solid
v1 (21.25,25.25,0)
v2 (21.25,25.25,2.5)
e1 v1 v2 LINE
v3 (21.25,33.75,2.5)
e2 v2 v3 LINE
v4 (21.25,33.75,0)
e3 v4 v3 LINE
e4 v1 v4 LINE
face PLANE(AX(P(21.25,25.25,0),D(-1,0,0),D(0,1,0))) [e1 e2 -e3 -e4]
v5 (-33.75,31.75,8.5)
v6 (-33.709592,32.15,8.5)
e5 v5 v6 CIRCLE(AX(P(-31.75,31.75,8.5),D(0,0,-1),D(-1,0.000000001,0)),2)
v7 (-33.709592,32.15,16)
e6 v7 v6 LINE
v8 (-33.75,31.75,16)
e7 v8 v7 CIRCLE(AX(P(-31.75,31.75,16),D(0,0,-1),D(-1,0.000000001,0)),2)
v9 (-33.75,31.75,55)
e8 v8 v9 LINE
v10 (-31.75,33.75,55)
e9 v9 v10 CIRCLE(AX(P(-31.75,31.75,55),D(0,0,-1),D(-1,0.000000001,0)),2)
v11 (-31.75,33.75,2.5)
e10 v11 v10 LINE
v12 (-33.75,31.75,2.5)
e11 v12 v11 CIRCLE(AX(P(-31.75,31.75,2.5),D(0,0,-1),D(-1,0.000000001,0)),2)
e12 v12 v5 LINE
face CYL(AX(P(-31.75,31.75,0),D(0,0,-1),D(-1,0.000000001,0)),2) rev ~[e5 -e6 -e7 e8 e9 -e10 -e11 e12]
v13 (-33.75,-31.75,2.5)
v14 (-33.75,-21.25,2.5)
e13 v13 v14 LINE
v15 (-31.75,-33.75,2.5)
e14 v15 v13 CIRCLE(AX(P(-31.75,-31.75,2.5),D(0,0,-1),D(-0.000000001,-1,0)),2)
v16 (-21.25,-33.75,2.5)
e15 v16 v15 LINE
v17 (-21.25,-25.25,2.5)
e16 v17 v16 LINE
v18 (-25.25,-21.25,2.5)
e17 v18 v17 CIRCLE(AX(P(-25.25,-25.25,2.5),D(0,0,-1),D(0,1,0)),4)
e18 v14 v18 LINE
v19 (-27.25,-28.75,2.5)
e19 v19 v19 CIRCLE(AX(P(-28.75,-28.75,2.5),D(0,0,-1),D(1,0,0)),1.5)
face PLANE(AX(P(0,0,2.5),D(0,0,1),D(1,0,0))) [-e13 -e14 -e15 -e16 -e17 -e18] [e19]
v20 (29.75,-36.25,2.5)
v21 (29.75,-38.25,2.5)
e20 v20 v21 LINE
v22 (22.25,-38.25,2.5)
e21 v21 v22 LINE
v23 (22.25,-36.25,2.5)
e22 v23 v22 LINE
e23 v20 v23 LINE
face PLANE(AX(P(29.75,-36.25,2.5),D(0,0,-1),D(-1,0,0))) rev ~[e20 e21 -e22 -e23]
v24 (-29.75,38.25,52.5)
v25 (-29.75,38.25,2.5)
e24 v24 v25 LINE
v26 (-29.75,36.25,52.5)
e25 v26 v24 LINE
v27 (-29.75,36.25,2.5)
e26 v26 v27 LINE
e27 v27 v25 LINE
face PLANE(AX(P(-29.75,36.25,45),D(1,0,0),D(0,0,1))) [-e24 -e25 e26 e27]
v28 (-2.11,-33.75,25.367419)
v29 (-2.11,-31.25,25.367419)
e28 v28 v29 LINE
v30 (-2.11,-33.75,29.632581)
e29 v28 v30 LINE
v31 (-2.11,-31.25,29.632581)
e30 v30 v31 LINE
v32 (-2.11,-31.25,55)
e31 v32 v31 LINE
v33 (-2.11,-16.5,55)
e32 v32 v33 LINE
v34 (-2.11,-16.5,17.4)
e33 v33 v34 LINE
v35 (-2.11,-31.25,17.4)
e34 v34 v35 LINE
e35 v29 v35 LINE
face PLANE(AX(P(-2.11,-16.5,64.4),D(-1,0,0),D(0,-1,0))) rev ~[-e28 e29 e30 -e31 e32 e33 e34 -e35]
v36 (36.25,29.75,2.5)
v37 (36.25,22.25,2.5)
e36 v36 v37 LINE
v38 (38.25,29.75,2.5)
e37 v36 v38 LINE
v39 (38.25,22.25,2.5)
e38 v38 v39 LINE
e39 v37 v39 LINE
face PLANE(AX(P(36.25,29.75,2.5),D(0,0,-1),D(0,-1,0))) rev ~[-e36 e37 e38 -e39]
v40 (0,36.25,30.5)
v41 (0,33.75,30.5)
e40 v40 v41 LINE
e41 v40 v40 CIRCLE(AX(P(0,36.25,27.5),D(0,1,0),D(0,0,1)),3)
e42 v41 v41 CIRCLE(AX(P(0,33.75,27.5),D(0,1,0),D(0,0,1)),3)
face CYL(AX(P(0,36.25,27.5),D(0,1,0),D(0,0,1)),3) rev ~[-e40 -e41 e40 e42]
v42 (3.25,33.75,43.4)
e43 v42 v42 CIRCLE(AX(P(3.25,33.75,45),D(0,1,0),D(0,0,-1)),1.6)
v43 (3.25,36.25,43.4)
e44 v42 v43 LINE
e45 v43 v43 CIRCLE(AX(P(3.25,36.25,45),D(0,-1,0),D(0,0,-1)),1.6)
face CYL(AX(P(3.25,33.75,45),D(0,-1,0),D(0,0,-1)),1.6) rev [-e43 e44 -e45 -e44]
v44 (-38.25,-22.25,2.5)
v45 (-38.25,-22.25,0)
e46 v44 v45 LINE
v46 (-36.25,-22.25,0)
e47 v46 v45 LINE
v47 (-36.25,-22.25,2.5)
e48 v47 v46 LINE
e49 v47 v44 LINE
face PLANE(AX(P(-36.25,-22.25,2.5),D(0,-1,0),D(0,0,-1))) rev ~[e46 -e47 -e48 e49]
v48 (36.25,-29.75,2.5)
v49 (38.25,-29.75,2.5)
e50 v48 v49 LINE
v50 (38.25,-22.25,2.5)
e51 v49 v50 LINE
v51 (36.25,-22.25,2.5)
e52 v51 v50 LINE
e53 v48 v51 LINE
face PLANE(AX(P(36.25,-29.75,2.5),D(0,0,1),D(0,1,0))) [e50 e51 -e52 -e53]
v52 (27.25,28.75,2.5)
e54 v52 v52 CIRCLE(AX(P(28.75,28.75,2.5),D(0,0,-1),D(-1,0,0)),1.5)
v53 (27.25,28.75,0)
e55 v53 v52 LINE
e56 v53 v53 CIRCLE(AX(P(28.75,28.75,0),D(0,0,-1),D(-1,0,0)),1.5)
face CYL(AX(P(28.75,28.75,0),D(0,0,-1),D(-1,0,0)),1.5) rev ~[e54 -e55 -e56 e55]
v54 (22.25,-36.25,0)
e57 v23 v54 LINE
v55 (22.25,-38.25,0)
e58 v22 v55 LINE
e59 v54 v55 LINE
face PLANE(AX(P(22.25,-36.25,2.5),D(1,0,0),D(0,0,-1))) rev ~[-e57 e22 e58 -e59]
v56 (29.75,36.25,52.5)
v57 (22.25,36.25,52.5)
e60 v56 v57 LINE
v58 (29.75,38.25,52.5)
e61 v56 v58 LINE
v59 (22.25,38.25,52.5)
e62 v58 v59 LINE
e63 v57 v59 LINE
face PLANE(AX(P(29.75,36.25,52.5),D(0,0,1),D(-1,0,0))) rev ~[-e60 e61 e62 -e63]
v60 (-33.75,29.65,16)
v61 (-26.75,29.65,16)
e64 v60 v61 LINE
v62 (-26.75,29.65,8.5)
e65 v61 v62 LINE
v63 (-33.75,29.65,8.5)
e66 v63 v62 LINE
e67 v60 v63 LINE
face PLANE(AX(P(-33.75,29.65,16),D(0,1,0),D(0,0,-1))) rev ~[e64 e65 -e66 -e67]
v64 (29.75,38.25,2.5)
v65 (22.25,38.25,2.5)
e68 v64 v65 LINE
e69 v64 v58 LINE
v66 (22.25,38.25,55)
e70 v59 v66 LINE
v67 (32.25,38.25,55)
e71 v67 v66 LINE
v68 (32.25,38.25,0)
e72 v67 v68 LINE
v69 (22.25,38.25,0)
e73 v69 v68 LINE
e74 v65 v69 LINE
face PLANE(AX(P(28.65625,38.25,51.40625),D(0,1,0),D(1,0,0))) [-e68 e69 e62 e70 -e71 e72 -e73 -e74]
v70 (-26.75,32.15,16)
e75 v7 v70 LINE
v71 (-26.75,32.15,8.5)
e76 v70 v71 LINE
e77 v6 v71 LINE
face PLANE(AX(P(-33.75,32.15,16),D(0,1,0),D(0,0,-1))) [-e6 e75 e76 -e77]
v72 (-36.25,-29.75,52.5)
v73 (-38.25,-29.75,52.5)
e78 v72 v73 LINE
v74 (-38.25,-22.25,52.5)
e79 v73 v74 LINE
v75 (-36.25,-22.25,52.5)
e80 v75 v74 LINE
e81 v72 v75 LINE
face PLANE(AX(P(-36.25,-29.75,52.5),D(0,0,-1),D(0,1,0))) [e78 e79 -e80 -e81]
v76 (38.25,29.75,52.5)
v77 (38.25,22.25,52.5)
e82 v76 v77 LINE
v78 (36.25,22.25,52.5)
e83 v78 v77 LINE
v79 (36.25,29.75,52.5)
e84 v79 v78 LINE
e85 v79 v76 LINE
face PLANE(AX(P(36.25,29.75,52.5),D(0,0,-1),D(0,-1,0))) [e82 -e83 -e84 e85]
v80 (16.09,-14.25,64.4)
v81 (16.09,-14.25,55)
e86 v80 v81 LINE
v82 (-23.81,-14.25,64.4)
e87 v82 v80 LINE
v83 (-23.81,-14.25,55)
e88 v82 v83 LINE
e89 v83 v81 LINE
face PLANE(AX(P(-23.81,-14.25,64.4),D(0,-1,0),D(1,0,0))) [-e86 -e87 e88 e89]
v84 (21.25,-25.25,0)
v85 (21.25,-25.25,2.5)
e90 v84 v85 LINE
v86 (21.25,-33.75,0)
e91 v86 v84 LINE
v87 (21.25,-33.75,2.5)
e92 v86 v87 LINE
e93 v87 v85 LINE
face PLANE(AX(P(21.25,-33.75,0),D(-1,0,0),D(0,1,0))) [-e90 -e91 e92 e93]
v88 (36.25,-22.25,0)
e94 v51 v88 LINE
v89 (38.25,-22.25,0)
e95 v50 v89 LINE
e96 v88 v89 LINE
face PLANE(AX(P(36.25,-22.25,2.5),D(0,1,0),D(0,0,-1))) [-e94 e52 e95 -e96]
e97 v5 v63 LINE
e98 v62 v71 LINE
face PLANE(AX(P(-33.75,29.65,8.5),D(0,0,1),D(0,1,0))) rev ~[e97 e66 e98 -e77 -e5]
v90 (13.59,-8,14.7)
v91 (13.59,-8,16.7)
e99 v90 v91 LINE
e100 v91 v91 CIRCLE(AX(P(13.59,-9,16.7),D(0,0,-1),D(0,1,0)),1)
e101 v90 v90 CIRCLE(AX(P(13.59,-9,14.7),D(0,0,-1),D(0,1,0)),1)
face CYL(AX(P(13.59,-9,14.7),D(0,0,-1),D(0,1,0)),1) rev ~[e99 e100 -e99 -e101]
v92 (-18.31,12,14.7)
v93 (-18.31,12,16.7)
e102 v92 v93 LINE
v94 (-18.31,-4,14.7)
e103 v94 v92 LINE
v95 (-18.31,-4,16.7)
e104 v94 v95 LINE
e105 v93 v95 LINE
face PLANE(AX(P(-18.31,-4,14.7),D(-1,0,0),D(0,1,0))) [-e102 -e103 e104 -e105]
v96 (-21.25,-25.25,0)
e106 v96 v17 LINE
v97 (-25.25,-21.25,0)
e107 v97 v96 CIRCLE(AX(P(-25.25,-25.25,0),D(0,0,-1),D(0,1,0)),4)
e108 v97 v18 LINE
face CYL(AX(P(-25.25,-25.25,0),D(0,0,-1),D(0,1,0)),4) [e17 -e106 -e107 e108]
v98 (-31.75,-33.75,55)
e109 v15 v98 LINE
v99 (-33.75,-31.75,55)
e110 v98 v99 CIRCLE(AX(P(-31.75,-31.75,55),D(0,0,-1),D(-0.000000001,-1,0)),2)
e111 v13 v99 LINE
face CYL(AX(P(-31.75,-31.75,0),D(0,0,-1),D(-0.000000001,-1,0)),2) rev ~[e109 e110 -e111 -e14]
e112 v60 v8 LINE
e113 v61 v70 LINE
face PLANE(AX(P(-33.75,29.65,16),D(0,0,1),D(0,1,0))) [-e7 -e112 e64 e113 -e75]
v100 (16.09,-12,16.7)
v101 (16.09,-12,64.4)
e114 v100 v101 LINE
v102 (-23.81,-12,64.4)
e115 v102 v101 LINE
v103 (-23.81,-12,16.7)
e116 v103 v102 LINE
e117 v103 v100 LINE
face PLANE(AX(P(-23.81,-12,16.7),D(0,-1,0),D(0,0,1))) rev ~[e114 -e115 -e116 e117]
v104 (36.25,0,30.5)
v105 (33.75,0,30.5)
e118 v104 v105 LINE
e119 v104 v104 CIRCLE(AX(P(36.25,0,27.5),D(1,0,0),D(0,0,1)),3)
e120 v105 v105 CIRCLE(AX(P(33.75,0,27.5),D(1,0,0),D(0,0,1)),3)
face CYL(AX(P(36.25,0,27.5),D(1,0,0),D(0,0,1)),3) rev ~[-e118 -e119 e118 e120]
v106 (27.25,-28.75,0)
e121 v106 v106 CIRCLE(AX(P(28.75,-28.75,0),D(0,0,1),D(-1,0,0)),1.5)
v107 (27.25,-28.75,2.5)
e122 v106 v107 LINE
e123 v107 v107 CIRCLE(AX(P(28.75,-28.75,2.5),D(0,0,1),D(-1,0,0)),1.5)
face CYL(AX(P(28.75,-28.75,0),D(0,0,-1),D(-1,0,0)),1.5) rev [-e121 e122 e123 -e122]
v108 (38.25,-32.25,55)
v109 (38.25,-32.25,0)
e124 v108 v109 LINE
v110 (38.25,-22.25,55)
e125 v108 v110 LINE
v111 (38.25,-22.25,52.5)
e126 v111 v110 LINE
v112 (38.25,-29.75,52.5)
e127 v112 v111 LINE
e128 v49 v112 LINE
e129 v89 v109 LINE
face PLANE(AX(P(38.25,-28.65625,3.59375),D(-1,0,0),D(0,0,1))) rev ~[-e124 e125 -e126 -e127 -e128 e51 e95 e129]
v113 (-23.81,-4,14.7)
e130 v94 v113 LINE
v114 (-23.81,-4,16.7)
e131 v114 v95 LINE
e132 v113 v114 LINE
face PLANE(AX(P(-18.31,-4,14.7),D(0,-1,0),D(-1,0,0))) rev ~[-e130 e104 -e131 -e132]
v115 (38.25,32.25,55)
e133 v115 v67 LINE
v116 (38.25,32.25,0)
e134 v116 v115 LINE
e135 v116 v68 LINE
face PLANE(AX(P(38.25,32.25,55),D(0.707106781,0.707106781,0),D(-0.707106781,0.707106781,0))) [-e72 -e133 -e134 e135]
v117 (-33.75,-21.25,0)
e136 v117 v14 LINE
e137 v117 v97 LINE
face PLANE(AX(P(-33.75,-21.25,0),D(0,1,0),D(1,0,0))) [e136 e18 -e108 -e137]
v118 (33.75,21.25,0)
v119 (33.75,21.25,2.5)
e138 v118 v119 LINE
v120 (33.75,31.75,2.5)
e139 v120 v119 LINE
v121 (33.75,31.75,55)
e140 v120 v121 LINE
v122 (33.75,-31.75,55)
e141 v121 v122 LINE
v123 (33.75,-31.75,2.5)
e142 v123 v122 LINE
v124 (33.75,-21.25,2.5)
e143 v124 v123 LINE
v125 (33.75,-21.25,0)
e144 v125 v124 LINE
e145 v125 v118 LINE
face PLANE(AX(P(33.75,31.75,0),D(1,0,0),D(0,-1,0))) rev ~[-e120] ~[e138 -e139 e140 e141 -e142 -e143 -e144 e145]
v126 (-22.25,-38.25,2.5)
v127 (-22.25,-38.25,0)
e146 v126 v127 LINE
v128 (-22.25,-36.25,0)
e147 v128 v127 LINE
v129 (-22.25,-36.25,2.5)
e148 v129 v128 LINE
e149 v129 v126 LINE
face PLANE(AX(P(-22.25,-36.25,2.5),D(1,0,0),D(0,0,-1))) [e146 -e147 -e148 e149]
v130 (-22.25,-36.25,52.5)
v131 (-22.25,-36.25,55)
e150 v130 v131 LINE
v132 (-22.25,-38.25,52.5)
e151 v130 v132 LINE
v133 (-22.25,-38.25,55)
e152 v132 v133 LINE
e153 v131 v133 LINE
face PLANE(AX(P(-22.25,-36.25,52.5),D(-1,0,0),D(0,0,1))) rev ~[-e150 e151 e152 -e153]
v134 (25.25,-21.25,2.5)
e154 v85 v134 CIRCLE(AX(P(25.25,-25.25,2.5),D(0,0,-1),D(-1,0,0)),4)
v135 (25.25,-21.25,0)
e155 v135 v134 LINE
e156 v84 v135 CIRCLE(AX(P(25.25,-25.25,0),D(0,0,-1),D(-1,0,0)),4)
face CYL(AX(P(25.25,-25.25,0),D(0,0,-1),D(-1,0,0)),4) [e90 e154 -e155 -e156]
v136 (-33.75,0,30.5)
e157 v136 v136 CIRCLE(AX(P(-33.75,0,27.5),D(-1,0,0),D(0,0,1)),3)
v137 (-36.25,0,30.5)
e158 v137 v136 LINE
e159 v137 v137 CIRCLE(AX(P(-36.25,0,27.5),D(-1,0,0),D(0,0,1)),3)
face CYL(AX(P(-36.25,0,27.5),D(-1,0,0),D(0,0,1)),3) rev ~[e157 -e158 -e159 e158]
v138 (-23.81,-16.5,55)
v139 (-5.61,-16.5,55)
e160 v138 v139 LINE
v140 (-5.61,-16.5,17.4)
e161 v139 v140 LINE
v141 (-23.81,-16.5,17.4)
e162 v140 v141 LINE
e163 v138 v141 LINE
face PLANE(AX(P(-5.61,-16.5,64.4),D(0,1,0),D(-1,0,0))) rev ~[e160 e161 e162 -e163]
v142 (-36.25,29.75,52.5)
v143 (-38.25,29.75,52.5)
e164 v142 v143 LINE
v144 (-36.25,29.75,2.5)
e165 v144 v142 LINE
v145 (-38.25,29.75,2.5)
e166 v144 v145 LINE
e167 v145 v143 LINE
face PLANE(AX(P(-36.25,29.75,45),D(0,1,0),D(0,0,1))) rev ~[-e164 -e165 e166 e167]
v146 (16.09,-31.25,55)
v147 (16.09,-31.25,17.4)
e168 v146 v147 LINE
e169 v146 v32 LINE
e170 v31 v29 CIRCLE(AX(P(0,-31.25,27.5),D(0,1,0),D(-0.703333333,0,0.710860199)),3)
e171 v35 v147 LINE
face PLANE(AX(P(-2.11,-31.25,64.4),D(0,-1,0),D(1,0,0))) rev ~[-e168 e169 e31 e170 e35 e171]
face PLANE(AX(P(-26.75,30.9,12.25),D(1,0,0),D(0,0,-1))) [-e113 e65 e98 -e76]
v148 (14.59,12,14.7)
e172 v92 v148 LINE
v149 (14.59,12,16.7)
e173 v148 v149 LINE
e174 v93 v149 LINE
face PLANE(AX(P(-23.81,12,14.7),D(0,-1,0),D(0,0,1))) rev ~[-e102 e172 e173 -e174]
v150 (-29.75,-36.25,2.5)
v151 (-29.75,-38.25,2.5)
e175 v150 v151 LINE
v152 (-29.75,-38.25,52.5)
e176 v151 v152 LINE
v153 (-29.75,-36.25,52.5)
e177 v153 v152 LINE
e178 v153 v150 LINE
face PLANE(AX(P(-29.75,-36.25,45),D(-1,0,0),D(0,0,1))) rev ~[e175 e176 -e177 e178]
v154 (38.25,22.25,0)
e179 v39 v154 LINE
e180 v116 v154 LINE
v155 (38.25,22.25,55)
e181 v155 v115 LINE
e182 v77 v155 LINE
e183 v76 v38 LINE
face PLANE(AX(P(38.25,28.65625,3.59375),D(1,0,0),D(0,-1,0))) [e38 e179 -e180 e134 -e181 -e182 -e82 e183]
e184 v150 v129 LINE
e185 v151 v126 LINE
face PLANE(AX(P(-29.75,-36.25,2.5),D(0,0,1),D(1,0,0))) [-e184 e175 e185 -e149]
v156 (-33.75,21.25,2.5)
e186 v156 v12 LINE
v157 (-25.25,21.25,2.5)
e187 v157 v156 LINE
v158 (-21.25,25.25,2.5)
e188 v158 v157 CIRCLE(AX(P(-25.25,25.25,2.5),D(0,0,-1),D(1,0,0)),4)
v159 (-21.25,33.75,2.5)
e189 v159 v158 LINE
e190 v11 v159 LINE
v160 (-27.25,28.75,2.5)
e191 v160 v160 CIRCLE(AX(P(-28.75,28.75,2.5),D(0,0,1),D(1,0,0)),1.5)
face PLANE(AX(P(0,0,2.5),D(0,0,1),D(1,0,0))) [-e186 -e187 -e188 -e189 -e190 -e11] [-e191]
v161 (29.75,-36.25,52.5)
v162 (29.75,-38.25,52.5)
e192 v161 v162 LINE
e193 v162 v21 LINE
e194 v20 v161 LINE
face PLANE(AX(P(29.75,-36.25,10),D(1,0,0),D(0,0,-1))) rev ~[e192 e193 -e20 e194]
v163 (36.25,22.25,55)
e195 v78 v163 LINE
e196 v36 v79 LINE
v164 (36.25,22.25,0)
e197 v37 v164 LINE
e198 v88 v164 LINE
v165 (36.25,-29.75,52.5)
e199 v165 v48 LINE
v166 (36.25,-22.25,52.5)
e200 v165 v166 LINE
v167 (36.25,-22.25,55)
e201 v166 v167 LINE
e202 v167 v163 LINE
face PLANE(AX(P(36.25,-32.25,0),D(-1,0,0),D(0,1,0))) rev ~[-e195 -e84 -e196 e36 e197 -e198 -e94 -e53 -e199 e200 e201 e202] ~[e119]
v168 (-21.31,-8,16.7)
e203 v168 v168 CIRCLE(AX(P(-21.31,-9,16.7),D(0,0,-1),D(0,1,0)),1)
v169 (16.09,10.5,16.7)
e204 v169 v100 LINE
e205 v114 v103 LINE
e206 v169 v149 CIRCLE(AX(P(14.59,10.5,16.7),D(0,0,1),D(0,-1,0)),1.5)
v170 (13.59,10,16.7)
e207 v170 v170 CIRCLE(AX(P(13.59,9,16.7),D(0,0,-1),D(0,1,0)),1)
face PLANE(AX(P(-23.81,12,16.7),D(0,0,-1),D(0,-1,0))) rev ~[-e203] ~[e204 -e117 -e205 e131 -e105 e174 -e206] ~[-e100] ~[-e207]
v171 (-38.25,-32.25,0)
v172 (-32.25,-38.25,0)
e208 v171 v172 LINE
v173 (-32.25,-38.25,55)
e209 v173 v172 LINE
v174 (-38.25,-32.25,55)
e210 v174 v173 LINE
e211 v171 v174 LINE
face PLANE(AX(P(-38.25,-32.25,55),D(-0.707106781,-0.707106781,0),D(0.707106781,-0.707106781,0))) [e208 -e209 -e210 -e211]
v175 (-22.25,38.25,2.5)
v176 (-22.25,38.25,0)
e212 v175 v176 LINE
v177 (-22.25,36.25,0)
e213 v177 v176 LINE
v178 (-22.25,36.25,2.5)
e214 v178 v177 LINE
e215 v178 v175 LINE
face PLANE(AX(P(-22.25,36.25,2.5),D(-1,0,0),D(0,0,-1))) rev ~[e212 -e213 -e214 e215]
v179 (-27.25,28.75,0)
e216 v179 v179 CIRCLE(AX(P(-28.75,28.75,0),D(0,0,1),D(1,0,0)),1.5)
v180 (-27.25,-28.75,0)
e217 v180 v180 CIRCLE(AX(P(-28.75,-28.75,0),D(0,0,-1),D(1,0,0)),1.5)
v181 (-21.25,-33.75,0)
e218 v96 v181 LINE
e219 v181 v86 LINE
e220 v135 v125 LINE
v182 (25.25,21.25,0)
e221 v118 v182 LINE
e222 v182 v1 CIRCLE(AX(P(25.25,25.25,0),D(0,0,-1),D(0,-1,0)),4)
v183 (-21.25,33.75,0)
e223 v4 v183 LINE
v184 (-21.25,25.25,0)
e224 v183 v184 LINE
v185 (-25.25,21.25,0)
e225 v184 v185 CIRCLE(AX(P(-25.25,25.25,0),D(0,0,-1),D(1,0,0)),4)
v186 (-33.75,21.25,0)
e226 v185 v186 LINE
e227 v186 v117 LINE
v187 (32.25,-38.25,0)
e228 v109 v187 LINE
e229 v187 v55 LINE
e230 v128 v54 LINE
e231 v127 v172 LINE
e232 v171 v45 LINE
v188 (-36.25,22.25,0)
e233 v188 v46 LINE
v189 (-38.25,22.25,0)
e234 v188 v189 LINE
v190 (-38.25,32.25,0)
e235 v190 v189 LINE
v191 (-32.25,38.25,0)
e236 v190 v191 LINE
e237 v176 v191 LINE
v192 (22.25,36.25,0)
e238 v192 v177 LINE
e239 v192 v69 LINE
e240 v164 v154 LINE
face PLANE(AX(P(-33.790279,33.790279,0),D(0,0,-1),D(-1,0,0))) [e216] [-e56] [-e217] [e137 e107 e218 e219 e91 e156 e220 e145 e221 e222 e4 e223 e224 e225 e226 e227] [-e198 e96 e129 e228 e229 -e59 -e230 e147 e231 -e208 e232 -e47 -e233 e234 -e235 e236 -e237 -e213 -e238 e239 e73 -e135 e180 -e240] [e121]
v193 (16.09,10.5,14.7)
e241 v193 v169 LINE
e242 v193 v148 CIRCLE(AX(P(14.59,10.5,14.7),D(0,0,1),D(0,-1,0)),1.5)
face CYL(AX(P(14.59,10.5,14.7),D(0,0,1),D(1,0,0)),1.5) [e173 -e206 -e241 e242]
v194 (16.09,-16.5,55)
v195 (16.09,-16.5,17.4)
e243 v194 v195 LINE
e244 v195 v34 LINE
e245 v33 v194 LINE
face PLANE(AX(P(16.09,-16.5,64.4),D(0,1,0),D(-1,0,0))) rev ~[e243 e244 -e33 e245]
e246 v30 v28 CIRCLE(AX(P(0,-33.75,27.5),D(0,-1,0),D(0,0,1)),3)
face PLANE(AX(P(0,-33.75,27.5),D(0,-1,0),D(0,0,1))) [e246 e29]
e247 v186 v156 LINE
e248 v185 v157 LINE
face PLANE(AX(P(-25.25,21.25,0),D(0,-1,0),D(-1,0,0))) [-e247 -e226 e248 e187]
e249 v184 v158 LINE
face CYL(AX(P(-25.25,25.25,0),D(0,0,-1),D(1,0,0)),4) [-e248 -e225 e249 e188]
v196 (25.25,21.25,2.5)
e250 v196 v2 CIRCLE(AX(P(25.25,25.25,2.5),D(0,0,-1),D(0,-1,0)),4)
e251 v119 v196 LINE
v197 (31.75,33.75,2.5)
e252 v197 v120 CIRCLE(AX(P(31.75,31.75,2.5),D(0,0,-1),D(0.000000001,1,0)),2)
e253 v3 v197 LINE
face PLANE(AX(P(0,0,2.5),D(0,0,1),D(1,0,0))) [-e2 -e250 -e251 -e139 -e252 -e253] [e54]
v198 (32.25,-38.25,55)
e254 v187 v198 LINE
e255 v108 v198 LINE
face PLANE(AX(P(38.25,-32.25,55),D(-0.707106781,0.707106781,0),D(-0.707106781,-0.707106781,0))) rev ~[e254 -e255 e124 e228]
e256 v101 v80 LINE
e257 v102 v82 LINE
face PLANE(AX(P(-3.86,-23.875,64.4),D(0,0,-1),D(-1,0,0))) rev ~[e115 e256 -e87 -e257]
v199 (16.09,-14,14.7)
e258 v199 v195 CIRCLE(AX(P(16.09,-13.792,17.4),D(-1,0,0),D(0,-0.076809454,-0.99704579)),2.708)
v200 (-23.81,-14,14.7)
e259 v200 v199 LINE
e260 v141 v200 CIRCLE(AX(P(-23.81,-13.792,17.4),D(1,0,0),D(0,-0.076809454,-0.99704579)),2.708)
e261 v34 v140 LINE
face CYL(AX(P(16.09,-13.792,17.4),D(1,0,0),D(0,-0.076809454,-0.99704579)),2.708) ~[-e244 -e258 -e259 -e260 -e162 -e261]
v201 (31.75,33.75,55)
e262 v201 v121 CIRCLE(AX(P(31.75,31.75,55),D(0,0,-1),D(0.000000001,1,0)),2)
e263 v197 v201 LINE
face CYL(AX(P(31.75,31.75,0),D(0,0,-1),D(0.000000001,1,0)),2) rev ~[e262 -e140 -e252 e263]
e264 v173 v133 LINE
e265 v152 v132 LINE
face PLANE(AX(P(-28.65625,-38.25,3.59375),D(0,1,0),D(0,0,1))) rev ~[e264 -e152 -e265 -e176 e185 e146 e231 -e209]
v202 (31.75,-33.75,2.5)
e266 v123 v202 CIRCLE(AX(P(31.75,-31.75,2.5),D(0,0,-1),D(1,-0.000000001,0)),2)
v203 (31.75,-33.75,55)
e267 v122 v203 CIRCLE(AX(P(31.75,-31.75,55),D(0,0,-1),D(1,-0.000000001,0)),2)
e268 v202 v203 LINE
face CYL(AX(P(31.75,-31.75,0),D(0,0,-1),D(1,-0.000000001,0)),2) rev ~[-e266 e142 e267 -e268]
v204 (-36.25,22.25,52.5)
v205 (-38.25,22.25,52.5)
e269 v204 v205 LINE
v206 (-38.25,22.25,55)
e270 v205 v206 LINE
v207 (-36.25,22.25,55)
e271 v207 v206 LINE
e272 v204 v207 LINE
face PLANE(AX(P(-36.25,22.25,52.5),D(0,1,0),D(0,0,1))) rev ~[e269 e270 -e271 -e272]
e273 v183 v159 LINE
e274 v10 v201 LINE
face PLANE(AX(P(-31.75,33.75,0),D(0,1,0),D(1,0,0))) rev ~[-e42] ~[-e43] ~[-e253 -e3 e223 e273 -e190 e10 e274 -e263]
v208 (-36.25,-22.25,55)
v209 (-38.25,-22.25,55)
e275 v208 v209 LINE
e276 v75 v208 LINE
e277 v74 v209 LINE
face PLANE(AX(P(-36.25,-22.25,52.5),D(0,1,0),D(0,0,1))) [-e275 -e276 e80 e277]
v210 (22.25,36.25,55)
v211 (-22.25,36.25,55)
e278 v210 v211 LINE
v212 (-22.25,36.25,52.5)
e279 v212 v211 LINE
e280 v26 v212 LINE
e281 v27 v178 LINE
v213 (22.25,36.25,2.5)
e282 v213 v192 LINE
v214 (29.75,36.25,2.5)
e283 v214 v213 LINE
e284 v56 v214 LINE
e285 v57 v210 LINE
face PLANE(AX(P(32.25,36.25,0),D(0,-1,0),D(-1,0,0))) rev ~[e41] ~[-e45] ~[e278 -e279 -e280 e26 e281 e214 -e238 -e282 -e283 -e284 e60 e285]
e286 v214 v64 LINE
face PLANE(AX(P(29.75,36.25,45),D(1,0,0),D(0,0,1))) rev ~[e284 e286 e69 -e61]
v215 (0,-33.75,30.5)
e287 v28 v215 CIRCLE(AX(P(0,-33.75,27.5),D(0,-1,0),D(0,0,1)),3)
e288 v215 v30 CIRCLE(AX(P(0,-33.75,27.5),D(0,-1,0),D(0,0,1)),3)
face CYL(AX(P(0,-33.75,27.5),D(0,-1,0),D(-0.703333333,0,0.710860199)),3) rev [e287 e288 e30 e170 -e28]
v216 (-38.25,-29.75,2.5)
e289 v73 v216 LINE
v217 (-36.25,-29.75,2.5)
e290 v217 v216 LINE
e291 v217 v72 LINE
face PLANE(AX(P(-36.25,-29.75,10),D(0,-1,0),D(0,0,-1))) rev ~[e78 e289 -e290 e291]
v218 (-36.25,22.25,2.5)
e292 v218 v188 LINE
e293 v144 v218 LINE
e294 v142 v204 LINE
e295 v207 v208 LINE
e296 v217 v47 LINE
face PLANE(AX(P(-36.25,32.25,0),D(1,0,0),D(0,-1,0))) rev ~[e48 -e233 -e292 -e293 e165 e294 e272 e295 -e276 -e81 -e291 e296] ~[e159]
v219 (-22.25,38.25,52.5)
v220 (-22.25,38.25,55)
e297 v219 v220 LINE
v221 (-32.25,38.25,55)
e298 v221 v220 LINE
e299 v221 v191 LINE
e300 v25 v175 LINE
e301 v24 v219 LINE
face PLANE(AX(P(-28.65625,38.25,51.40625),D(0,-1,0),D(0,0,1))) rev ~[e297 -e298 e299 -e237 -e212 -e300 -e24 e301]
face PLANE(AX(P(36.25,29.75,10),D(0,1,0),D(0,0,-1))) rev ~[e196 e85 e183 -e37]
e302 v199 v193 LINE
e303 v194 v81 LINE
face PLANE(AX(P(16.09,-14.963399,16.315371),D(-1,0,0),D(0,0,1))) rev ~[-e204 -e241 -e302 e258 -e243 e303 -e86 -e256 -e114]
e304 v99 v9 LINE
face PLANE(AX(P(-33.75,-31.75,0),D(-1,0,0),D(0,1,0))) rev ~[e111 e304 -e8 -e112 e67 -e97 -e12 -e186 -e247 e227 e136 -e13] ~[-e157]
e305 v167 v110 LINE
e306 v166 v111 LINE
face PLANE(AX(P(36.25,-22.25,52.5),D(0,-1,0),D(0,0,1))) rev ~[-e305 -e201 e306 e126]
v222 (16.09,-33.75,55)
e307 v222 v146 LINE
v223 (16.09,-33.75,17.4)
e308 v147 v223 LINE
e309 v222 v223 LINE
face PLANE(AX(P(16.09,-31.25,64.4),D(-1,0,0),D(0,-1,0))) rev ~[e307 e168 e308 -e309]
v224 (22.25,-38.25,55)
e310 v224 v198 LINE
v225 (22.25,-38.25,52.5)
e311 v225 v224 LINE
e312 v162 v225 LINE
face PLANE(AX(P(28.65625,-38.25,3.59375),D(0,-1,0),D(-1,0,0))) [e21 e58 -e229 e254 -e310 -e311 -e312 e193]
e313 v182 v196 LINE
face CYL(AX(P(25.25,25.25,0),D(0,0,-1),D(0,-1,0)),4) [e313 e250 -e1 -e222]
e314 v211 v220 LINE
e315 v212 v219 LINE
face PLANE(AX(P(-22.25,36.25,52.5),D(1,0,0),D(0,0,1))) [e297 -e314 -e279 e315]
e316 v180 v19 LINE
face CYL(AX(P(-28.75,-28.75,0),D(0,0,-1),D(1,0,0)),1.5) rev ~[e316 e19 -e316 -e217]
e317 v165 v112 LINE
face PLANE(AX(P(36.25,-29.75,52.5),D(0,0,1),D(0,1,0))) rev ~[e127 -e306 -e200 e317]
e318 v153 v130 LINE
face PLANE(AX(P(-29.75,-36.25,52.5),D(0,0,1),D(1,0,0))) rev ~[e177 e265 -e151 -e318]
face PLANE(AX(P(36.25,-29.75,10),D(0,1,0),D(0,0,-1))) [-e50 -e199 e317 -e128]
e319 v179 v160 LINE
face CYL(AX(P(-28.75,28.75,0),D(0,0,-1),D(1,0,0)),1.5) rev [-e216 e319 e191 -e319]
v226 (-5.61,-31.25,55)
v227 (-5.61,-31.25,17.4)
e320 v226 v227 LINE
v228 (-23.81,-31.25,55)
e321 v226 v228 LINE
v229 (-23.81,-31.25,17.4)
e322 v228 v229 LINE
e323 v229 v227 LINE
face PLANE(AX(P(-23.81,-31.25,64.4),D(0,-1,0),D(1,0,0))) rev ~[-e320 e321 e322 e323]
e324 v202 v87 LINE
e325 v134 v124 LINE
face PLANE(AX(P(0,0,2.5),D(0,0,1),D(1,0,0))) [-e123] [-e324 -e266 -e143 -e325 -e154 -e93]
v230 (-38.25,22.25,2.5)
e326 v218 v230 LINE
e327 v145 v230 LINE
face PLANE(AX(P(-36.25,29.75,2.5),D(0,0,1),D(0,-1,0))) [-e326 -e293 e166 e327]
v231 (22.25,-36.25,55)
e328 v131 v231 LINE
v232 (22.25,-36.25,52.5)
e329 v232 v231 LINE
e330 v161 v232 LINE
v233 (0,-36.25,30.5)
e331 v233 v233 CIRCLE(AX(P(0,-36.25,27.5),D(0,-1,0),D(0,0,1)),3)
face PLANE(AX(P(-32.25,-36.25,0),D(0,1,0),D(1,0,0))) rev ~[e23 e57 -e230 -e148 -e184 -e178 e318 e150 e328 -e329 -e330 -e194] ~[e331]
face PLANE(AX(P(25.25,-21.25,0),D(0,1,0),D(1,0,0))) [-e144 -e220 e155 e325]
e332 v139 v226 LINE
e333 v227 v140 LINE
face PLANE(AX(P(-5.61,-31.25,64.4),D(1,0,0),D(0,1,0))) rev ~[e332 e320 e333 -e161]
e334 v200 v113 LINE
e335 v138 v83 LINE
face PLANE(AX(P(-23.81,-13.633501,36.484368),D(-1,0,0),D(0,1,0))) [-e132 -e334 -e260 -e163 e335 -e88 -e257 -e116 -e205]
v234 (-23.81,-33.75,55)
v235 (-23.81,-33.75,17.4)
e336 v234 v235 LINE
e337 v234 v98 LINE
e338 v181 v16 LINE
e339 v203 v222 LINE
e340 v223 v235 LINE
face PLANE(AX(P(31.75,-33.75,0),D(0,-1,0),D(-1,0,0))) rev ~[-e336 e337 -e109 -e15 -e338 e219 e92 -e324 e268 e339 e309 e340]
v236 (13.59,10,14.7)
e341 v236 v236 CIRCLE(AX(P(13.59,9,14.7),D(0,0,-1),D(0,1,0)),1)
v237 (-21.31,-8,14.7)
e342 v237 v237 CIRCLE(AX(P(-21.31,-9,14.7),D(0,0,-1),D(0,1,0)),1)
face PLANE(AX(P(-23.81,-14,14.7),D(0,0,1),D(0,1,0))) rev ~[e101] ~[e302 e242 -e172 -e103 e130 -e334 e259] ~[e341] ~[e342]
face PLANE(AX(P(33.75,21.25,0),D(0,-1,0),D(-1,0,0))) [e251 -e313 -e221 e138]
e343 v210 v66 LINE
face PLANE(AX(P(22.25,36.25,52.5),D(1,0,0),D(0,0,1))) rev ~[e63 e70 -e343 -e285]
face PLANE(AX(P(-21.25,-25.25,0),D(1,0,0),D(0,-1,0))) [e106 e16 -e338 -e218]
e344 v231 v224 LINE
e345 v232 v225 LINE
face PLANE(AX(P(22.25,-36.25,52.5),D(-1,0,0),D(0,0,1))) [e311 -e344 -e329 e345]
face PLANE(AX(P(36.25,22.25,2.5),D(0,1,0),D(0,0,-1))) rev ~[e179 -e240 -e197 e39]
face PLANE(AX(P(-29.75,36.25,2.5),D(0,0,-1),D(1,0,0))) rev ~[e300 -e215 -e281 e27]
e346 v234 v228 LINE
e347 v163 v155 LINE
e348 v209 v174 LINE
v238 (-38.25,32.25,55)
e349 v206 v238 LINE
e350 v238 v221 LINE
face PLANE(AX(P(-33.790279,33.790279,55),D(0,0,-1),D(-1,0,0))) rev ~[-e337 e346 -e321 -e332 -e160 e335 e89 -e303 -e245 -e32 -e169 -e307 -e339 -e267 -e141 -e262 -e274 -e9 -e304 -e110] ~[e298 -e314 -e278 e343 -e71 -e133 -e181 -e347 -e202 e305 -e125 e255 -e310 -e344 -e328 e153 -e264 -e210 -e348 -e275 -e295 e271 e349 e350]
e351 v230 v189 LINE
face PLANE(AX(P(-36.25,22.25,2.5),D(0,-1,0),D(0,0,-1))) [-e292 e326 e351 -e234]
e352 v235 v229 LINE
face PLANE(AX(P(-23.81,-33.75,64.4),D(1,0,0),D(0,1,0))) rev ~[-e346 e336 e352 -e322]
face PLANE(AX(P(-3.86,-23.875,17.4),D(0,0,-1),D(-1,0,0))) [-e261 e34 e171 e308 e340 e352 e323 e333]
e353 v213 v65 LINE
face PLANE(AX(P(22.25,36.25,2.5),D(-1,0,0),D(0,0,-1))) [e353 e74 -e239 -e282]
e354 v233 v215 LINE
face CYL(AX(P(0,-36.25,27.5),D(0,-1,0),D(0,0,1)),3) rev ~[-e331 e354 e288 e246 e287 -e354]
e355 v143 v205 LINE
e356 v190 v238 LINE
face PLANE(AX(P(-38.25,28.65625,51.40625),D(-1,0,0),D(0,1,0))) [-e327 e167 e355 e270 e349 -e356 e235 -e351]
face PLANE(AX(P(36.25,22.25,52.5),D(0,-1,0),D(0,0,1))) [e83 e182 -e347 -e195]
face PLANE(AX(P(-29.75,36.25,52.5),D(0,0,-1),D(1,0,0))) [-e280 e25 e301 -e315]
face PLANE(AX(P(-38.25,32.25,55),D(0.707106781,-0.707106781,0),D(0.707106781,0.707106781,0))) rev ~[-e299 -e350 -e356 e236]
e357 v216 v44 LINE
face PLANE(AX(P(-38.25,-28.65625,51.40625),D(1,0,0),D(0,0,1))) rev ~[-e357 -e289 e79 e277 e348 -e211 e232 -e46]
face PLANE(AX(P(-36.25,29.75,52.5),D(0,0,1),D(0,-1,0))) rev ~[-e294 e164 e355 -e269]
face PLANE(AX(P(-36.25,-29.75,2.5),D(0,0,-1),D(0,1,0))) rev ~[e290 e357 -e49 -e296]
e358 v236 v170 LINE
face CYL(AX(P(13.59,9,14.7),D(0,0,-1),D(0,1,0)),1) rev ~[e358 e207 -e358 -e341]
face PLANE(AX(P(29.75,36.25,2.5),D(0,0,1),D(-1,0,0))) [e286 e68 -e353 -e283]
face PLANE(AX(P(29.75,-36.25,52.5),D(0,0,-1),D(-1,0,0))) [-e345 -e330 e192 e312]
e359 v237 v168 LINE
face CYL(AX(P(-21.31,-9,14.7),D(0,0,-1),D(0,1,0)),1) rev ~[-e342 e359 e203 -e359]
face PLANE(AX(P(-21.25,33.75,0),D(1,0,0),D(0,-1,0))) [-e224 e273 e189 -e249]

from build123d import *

# Parameters (mm, degrees)
BOSS_EXTRUDE1_DEPTH            = 55
SKETCH2_W                      = 67.5
SKETCH2_H                      = 67.5
BOSS_EXTRUDE2_DEPTH            = 2.5
CUT_EXTRUDE1_REACH             = 75.378
SKETCH3_W                      = 16.5
SKETCH3_H                      = 7
SKETCH3_W_2                    = 8
SKETCH3_H_2                    = 16
FILLET1_R                      = 1
CUT_EXTRUDE2_REACH             = 77.187
SKETCH4_R                      = 1.5
MIRROR2_COPY_1_REACH           = 77.187
MIRROR2_COPY_1_SKETCH_R        = 1.5
BOSS_EXTRUDE3_DEPTH            = 16.09
BOSS_EXTRUDE3_DEPTH_BACK       = 23.81
BOSS_EXTRUDE4_DEPTH            = 47
SKETCH7_W                      = 39.9
SKETCH7_H                      = 19.5
CUT_EXTRUDE3_DEPTH             = 9.4
BOSS_EXTRUDE7_DEPTH            = 2
CUT_EXTRUDE6_REACH             = 85.213
CUT_EXTRUDE6_DIRECTION_2_DEPTH = 84.213490493
CUT_EXTRUDE8_DEPTH             = 104.526192338
CUT_EXTRUDE8_DEPTH_BACK        = 2.5
SKETCH15_R                     = 1.6
SKETCH16_W                     = 7.5
SKETCH16_H                     = 2.5
BOSS_EXTRUDE8_DEPTH            = 7
CUT_EXTRUDE9_REACH             = 74.438
SKETCH17_R                     = 1
SKETCH19_R                     = 3
CUT_EXTRUDE10_DEPTH            = 2.5
BOSS_EXTRUDE9_DEPTH            = 2
CIRPATTERN1_COUNT              = 4
CIRPATTERN2_COUNT              = 4
CUT_EXTRUDE11_DEPTH            = 2.5
BOSS_EXTRUDE12_DEPTH           = 55
CUT_EXTRUDE12_REACH            = 75.459
SKETCH23_W                     = 5.5
SKETCH23_H                     = 16
BOSS_EXTRUDE13_REACH           = 94.538
FILLET2_R                      = 1.5


with BuildPart() as part:
    # Sketch1 → Boss-Extrude1 (new body)
    with BuildSketch(Plane.XY):
        with BuildLine():
            Line((-36.25, 32.25), (-36.25, -32.25))
            ThreePointArc((-36.25, -32.25), (-35.078427125, -35.078427125), (-32.25, -36.25))
            Line((-32.25, -36.25), (32.25, -36.25))
            ThreePointArc((32.25, -36.25), (35.078427125, -35.078427125), (36.25, -32.25))
            Line((36.25, -32.25), (36.25, 32.25))
            ThreePointArc((36.25, 32.25), (35.078427125, 35.078427125), (32.25, 36.25))
            Line((32.25, 36.25), (-32.25, 36.25))
            ThreePointArc((-32.25, 36.25), (-35.078427125, 35.078427125), (-36.25, 32.25))
        make_face()
        with BuildLine():
            Line((-31.75, 33.75), (31.75, 33.75))
            ThreePointArc((31.75, 33.75), (33.164213562, 33.164213562), (33.75, 31.75))
            Line((33.75, 31.75), (33.75, -31.75))
            ThreePointArc((33.75, -31.75), (33.164213562, -33.164213562), (31.75, -33.75))
            Line((31.75, -33.75), (-31.75, -33.75))
            ThreePointArc((-31.75, -33.75), (-33.164213562, -33.164213562), (-33.75, -31.75))
            Line((-33.75, -31.75), (-33.75, 31.75))
            ThreePointArc((-33.75, 31.75), (-33.164213562, 33.164213562), (-31.75, 33.75))
        make_face(mode=Mode.SUBTRACT)
    extrude(amount=BOSS_EXTRUDE1_DEPTH)

    # Sketch2 → Boss-Extrude2 (add)
    with BuildSketch(Plane.XY):
        Rectangle(SKETCH2_W, SKETCH2_H)
    extrude(amount=BOSS_EXTRUDE2_DEPTH)

    # Sketch3 → Cut-Extrude1 (cut, up to next)
    with BuildSketch(Plane.XY.offset(2.5), mode=Mode.PRIVATE) as cut_extrude1_sk1:
        with Locations((-11.63, 14.79)):
            Rectangle(SKETCH3_W, SKETCH3_H)
    cut_extrude1_tool1 = extrude(cut_extrude1_sk1.sketch, amount=-CUT_EXTRUDE1_REACH, mode=Mode.PRIVATE) & part.part
    # Sketch3 → Cut-Extrude1 (cut, up to next)
    with BuildSketch(Plane.XY.offset(2.5), mode=Mode.PRIVATE) as cut_extrude1_sk2:
        Rectangle(SKETCH3_W_2, SKETCH3_H_2)
    cut_extrude1_tool2 = extrude(cut_extrude1_sk2.sketch, amount=-CUT_EXTRUDE1_REACH, mode=Mode.PRIVATE) & part.part
    add(cut_extrude1_tool1.solids().sort_by_distance((-11.63, 14.79, 2.5))[0], mode=Mode.SUBTRACT)
    add(cut_extrude1_tool2.solids().sort_by_distance((0, 0, 2.5))[0], mode=Mode.SUBTRACT)

    # Fillet1
    fillet1_edges = [part.edges().sort_by_distance(p)[0] for p in [
        (-19.88, 11.29, 1.25),
        (-19.88, 18.29, 1.25),
        (-3.38, 18.29, 1.25),
        (-3.38, 11.29, 1.25),
        (4, -8, 1.25),
        (-4, -8, 1.25),
        (-4, 8, 1.25),
        (4, 8, 1.25),
    ]]
    fillet(fillet1_edges, radius=FILLET1_R)

    # Sketch4 → Cut-Extrude2 (cut, up to next)
    with BuildSketch(Plane(origin=(0, 0, 0), x_dir=(-1, 0, 0), z_dir=(0, 0, -1)), mode=Mode.PRIVATE) as cut_extrude2_sk1:
        with Locations((-28.75, 28.75)):
            Circle(SKETCH4_R)
    cut_extrude2_tool1 = extrude(cut_extrude2_sk1.sketch, amount=-CUT_EXTRUDE2_REACH, mode=Mode.PRIVATE) & part.part
    cut_extrude2 = cut_extrude2_tool1.solids().sort_by_distance((28.75, 28.75, 0))[0]
    add(cut_extrude2, mode=Mode.SUBTRACT)

    # Mirror1: Cut-Extrude2 across plane
    add(cut_extrude2.mirror(Plane(origin=(0, 0, 0), x_dir=(0, 0, 1), z_dir=(1, 0, 0))), mode=Mode.SUBTRACT)

    # Mirror2: Cut-Extrude2 across plane
    add(cut_extrude2.mirror(Plane.ZX), mode=Mode.SUBTRACT)

    # Mirror2 copy 1 sketch → Mirror2 copy 1 (cut, up to next)
    with BuildSketch(Plane(origin=(0, 0, 0), x_dir=(1, 0, 0), z_dir=(0, 0, -1)), mode=Mode.PRIVATE) as mirror2_copy_1_sk1:
        with Locations((-28.75, 28.75)):
            Circle(MIRROR2_COPY_1_SKETCH_R)
    mirror2_copy_1_tool1 = extrude(mirror2_copy_1_sk1.sketch, amount=-MIRROR2_COPY_1_REACH, mode=Mode.PRIVATE) & part.part
    add(mirror2_copy_1_tool1.solids().sort_by_distance((-28.75, -28.75, 0))[0], mode=Mode.SUBTRACT)



with BuildPart() as body_2:
    # Sketch5 → Boss-Extrude3 (new, two sides: drawn at the far end of the back side and taken through both)
    with BuildSketch(Plane(origin=(0, 0, 0), x_dir=(0, 0, -1), z_dir=(1, 0, 0)).offset(-BOSS_EXTRUDE3_DEPTH_BACK)):
        Polygon((-16.7, 12), (-16.7, -12), (-62.4, -12), (-64.4, -12), (-64.4, -14), (-14.7, -14), (-14.7, 12), align=None)
    extrude(amount=BOSS_EXTRUDE3_DEPTH + BOSS_EXTRUDE3_DEPTH_BACK)


with BuildPart() as part_1:
    add(part.part)

    add(body_2.part)  # Boss-Extrude4 merges body 2
    # Sketch6 → Boss-Extrude4 (add)
    with BuildSketch(Plane.XY.offset(64.4)):
        Polygon((-23.81, -14), (16.09, -14), (16.09, -16.5), (-2.11, -16.5), (-2.11, -31.25), (16.09, -31.25), (16.09, -33.75), (-23.81, -33.75), (-23.81, -31.25), (-5.61, -31.25), (-5.61, -16.5), (-23.81, -16.5), align=None)
    extrude(amount=-BOSS_EXTRUDE4_DEPTH)

    # Sketch7 → Cut-Extrude3 (cut)
    with BuildSketch(Plane.XY.offset(64.4)):
        with Locations((-3.86, -24)):
            Rectangle(SKETCH7_W, SKETCH7_H)
    extrude(amount=-CUT_EXTRUDE3_DEPTH, mode=Mode.SUBTRACT)

    # Sketch12 → Boss-Extrude7 (add)
    with BuildSketch(Plane(origin=(0, 36.25, 0), x_dir=(1, 0, 0), z_dir=(0, 1, 0))):
        Polygon((29.75, -55), (32.25, -55), (32.25, -52.5), (32.25, -45), (29.75, -45), (29.75, -52.5), (22.25, -52.5), (22.25, -55), align=None)
        Polygon((-32.25, 0), (-32.25, -10), (-29.75, -10), (-29.75, -2.5), (-22.25, -2.5), (-22.25, 0), align=None)
    boss_extrude7 = extrude(amount=BOSS_EXTRUDE7_DEPTH)

    # Sketch13 → Cut-Extrude6 (cut, up to next)
    with BuildSketch(Plane(origin=(0, 0, 0), x_dir=(-1, 0, 0), z_dir=(0, 0, -1)), mode=Mode.PRIVATE) as cut_extrude6_sk1:
        with BuildLine():
            Line((-33.75, 21.25), (-25.25, 21.25))
            ThreePointArc((-25.25, 21.25), (-22.421572875, 22.421572875), (-21.25, 25.25))
            Line((-21.25, 25.25), (-21.25, 33.75))
            Line((-21.25, 33.75), (21.25, 33.75))
            Line((21.25, 33.75), (21.25, 25.25))
            ThreePointArc((21.25, 25.25), (22.421572875, 22.421572875), (25.25, 21.25))
            Line((25.25, 21.25), (33.75, 21.25))
            Line((33.75, 21.25), (33.75, -21.25))
            Line((33.75, -21.25), (25.25, -21.25))
            ThreePointArc((25.25, -21.25), (22.421572875, -22.421572875), (21.25, -25.25))
            Line((21.25, -25.25), (21.25, -33.75))
            Line((21.25, -33.75), (-21.25, -33.75))
            Line((-21.25, -33.75), (-21.25, -25.25))
            ThreePointArc((-21.25, -25.25), (-22.421572875, -22.421572875), (-25.25, -21.25))
            Line((-25.25, -21.25), (-33.75, -21.25))
            Line((-33.75, -21.25), (-33.75, 21.25))
        make_face()
    cut_extrude6_tool1 = extrude(cut_extrude6_sk1.sketch, amount=-CUT_EXTRUDE6_REACH, mode=Mode.PRIVATE) & part_1.part
    add(cut_extrude6_tool1.solids().sort_by_distance((0, 0, 0))[0], mode=Mode.SUBTRACT)

    # Sketch13 → Cut-Extrude6 direction 2 (cut)
    with BuildSketch(Plane(origin=(0, 0, 0), x_dir=(-1, 0, 0), z_dir=(0, 0, -1))):
        with BuildLine():
            Line((-33.75, 21.25), (-25.25, 21.25))
            ThreePointArc((-25.25, 21.25), (-22.421572875, 22.421572875), (-21.25, 25.25))
            Line((-21.25, 25.25), (-21.25, 33.75))
            Line((-21.25, 33.75), (21.25, 33.75))
            Line((21.25, 33.75), (21.25, 25.25))
            ThreePointArc((21.25, 25.25), (22.421572875, 22.421572875), (25.25, 21.25))
            Line((25.25, 21.25), (33.75, 21.25))
            Line((33.75, 21.25), (33.75, -21.25))
            Line((33.75, -21.25), (25.25, -21.25))
            ThreePointArc((25.25, -21.25), (22.421572875, -22.421572875), (21.25, -25.25))
            Line((21.25, -25.25), (21.25, -33.75))
            Line((21.25, -33.75), (-21.25, -33.75))
            Line((-21.25, -33.75), (-21.25, -25.25))
            ThreePointArc((-21.25, -25.25), (-22.421572875, -22.421572875), (-25.25, -21.25))
            Line((-25.25, -21.25), (-33.75, -21.25))
            Line((-33.75, -21.25), (-33.75, 21.25))
        make_face()
    extrude(amount=CUT_EXTRUDE6_DIRECTION_2_DEPTH, mode=Mode.SUBTRACT)

    # Sketch15 → Cut-Extrude8 (cut, two sides: drawn at the far end of the back side and taken through both)
    with BuildSketch(Plane(origin=(0, 36.25, 0), x_dir=(1, 0, 0), z_dir=(0, 1, 0)).offset(-CUT_EXTRUDE8_DEPTH_BACK)):
        with Locations(Location((3.25, -45, 0), (0, 0, 90))):
            Circle(SKETCH15_R)
    extrude(amount=CUT_EXTRUDE8_DEPTH + CUT_EXTRUDE8_DEPTH_BACK, mode=Mode.SUBTRACT)

    # Sketch16 → Boss-Extrude8 (add)
    with BuildSketch(Plane(origin=(-33.75, 0, 0), x_dir=(0, 0, -1), z_dir=(1, 0, 0))):
        with Locations((-12.25, 30.9)):
            Rectangle(SKETCH16_W, SKETCH16_H)
    extrude(amount=BOSS_EXTRUDE8_DEPTH)

    # Sketch17 → Cut-Extrude9 (cut, up to next)
    with BuildSketch(Plane(origin=(0, 0, 14.7), x_dir=(-1, 0, 0), z_dir=(0, 0, -1)), mode=Mode.PRIVATE) as cut_extrude9_sk1:
        with Locations(Location((-13.59, 9, 0), (0, 0, 90))):
            Circle(SKETCH17_R)
    cut_extrude9_tool1 = extrude(cut_extrude9_sk1.sketch, amount=-CUT_EXTRUDE9_REACH, mode=Mode.PRIVATE) & part_1.part
    # Sketch17 → Cut-Extrude9 (cut, up to next)
    with BuildSketch(Plane(origin=(0, 0, 14.7), x_dir=(-1, 0, 0), z_dir=(0, 0, -1)), mode=Mode.PRIVATE) as cut_extrude9_sk2:
        with Locations(Location((-13.59, -9, 0), (0, 0, 90))):
            Circle(SKETCH17_R)
    cut_extrude9_tool2 = extrude(cut_extrude9_sk2.sketch, amount=-CUT_EXTRUDE9_REACH, mode=Mode.PRIVATE) & part_1.part
    # Sketch17 → Cut-Extrude9 (cut, up to next)
    with BuildSketch(Plane(origin=(0, 0, 14.7), x_dir=(-1, 0, 0), z_dir=(0, 0, -1)), mode=Mode.PRIVATE) as cut_extrude9_sk3:
        with Locations(Location((21.31, -9, 0), (0, 0, 90))):
            Circle(SKETCH17_R)
    cut_extrude9_tool3 = extrude(cut_extrude9_sk3.sketch, amount=-CUT_EXTRUDE9_REACH, mode=Mode.PRIVATE) & part_1.part
    add(cut_extrude9_tool1.solids().sort_by_distance((13.59, 9, 14.7))[0], mode=Mode.SUBTRACT)
    add(cut_extrude9_tool2.solids().sort_by_distance((13.59, -9, 14.7))[0], mode=Mode.SUBTRACT)
    add(cut_extrude9_tool3.solids().sort_by_distance((-21.31, -9, 14.7))[0], mode=Mode.SUBTRACT)

    # Sketch19 → Cut-Extrude10 (cut)
    with BuildSketch(Plane(origin=(0, 36.25, 0), x_dir=(1, 0, 0), z_dir=(0, 1, 0))):
        with Locations(Location((0, -27.5, 0), (0, 0, 270))):
            Circle(SKETCH19_R)
    cut_extrude10 = extrude(amount=-CUT_EXTRUDE10_DEPTH, mode=Mode.SUBTRACT)

    # Sketch20 → Boss-Extrude9 (add)
    with BuildSketch(Plane(origin=(36.25, 0, -36.25), x_dir=(0, 0, 1), z_dir=(-1, 0, 0))):
        Polygon((91.25, 32.25), (81.25, 32.25), (81.25, 29.75), (88.75, 29.75), (88.75, 22.25), (91.25, 22.25), align=None)
        Polygon((36.25, -22.25), (36.25, -32.25), (46.25, -32.25), (46.25, -29.75), (38.75, -29.75), (38.75, -22.25), align=None)
    boss_extrude9 = extrude(amount=-BOSS_EXTRUDE9_DEPTH)

    # CirPattern1: Boss-Extrude7, Cut-Extrude10 ×4 about axis
    cirpattern1_axis = Axis((0, 0, 0), (0, 0, 1))
    add([boss_extrude7.rotate(cirpattern1_axis, i * 360 / CIRPATTERN1_COUNT) for i in range(1, CIRPATTERN1_COUNT)])
    add([cut_extrude10.rotate(cirpattern1_axis, i * 360 / CIRPATTERN1_COUNT) for i in range(1, CIRPATTERN1_COUNT)], mode=Mode.SUBTRACT)

    # CirPattern2: Boss-Extrude9 ×4 about axis
    cirpattern2_axis = Axis((0, 0, 0), (0, 0, 1))
    for i in range(1, CIRPATTERN2_COUNT):
        add(boss_extrude9.rotate(cirpattern2_axis, i * 360 / CIRPATTERN2_COUNT))

    # Sketch21 → Cut-Extrude11 (cut)
    with BuildSketch(Plane.XZ.offset(33.75)):
        with BuildLine():
            Line((-2.11, 25.367419404), (-2.11, 29.632580596))
            ThreePointArc((-2.11, 29.632580596), (3, 27.5), (-2.11, 25.367419404))
        make_face()
    extrude(amount=-CUT_EXTRUDE11_DEPTH, mode=Mode.SUBTRACT)

    # Sketch22 → Boss-Extrude12 (add, through all)
    with BuildSketch(Plane.XY.offset(55)):
        Polygon((-38.25, 32.25), (-32.25, 38.25), (-29.75, 38.25), (-29.75, 33.75), (-33.75, 33.75), (-33.75, 29.75), (-38.25, 29.75), align=None)
        Polygon((33.75, 33.75), (33.75, 29.75), (38.25, 29.75), (38.25, 32.25), (32.25, 38.25), (29.75, 38.25), (29.75, 33.75), align=None)
        Polygon((38.25, -32.25), (32.25, -38.25), (29.75, -38.25), (29.75, -33.75), (33.75, -33.75), (33.75, -29.75), (38.25, -29.75), align=None)
        Polygon((-33.75, -33.75), (-33.75, -29.75), (-38.25, -29.75), (-38.25, -32.25), (-32.25, -38.25), (-29.75, -38.25), (-29.75, -33.75), align=None)
    extrude(amount=-BOSS_EXTRUDE12_DEPTH)

    # Sketch23 → Cut-Extrude12 (cut, up to next)
    with BuildSketch(Plane(origin=(0, 0, 14.7), x_dir=(-1, 0, 0), z_dir=(0, 0, -1)), mode=Mode.PRIVATE) as cut_extrude12_sk1:
        with Locations((21.06, 4)):
            Rectangle(SKETCH23_W, SKETCH23_H)
    cut_extrude12_tool1 = extrude(cut_extrude12_sk1.sketch, amount=-CUT_EXTRUDE12_REACH, mode=Mode.PRIVATE) & part_1.part
    add(cut_extrude12_tool1.solids().sort_by_distance((-21.06, 4, 14.7))[0], mode=Mode.SUBTRACT)

    # Boss-Extrude13: up to this face of the body (flat: up to its plane)
    boss_extrude13_end = Plane(part_1.part.faces().sort_by_distance((-23.81, -13.63350059, 36.484368359))[0])
    # Sketch24 → Boss-Extrude13 (add, up to the picked face)
    with BuildSketch(Plane(origin=(16.09, 0, 0), x_dir=(0, 0, -1), z_dir=(1, 0, 0)), mode=Mode.PRIVATE) as boss_extrude13_sk1:
        with BuildLine():
            Line((-17.4, -16.5), (-17.4, -13.792))
            Line((-17.4, -13.792), (-14.7, -14))
            ThreePointArc((-14.7, -14), (-15.560163051, -15.779023905), (-17.4, -16.5))
        make_face()
    boss_extrude13_tool1 = split(extrude(boss_extrude13_sk1.sketch, amount=-BOSS_EXTRUDE13_REACH, mode=Mode.PRIVATE), bisect_by=boss_extrude13_end, keep=Keep.BOTH, mode=Mode.PRIVATE)
    add(boss_extrude13_tool1.solids().sort_by(Axis((16.09, -14.996891, 16.28436), (-1, 0, 0)))[0])

    # Fillet2
    fillet2_edges = [part_1.edges().sort_by_distance(p)[0] for p in [
        (16.09, 12, 15.7),
    ]]
    fillet(fillet2_edges, radius=FILLET2_R)


solid = part_1.part
